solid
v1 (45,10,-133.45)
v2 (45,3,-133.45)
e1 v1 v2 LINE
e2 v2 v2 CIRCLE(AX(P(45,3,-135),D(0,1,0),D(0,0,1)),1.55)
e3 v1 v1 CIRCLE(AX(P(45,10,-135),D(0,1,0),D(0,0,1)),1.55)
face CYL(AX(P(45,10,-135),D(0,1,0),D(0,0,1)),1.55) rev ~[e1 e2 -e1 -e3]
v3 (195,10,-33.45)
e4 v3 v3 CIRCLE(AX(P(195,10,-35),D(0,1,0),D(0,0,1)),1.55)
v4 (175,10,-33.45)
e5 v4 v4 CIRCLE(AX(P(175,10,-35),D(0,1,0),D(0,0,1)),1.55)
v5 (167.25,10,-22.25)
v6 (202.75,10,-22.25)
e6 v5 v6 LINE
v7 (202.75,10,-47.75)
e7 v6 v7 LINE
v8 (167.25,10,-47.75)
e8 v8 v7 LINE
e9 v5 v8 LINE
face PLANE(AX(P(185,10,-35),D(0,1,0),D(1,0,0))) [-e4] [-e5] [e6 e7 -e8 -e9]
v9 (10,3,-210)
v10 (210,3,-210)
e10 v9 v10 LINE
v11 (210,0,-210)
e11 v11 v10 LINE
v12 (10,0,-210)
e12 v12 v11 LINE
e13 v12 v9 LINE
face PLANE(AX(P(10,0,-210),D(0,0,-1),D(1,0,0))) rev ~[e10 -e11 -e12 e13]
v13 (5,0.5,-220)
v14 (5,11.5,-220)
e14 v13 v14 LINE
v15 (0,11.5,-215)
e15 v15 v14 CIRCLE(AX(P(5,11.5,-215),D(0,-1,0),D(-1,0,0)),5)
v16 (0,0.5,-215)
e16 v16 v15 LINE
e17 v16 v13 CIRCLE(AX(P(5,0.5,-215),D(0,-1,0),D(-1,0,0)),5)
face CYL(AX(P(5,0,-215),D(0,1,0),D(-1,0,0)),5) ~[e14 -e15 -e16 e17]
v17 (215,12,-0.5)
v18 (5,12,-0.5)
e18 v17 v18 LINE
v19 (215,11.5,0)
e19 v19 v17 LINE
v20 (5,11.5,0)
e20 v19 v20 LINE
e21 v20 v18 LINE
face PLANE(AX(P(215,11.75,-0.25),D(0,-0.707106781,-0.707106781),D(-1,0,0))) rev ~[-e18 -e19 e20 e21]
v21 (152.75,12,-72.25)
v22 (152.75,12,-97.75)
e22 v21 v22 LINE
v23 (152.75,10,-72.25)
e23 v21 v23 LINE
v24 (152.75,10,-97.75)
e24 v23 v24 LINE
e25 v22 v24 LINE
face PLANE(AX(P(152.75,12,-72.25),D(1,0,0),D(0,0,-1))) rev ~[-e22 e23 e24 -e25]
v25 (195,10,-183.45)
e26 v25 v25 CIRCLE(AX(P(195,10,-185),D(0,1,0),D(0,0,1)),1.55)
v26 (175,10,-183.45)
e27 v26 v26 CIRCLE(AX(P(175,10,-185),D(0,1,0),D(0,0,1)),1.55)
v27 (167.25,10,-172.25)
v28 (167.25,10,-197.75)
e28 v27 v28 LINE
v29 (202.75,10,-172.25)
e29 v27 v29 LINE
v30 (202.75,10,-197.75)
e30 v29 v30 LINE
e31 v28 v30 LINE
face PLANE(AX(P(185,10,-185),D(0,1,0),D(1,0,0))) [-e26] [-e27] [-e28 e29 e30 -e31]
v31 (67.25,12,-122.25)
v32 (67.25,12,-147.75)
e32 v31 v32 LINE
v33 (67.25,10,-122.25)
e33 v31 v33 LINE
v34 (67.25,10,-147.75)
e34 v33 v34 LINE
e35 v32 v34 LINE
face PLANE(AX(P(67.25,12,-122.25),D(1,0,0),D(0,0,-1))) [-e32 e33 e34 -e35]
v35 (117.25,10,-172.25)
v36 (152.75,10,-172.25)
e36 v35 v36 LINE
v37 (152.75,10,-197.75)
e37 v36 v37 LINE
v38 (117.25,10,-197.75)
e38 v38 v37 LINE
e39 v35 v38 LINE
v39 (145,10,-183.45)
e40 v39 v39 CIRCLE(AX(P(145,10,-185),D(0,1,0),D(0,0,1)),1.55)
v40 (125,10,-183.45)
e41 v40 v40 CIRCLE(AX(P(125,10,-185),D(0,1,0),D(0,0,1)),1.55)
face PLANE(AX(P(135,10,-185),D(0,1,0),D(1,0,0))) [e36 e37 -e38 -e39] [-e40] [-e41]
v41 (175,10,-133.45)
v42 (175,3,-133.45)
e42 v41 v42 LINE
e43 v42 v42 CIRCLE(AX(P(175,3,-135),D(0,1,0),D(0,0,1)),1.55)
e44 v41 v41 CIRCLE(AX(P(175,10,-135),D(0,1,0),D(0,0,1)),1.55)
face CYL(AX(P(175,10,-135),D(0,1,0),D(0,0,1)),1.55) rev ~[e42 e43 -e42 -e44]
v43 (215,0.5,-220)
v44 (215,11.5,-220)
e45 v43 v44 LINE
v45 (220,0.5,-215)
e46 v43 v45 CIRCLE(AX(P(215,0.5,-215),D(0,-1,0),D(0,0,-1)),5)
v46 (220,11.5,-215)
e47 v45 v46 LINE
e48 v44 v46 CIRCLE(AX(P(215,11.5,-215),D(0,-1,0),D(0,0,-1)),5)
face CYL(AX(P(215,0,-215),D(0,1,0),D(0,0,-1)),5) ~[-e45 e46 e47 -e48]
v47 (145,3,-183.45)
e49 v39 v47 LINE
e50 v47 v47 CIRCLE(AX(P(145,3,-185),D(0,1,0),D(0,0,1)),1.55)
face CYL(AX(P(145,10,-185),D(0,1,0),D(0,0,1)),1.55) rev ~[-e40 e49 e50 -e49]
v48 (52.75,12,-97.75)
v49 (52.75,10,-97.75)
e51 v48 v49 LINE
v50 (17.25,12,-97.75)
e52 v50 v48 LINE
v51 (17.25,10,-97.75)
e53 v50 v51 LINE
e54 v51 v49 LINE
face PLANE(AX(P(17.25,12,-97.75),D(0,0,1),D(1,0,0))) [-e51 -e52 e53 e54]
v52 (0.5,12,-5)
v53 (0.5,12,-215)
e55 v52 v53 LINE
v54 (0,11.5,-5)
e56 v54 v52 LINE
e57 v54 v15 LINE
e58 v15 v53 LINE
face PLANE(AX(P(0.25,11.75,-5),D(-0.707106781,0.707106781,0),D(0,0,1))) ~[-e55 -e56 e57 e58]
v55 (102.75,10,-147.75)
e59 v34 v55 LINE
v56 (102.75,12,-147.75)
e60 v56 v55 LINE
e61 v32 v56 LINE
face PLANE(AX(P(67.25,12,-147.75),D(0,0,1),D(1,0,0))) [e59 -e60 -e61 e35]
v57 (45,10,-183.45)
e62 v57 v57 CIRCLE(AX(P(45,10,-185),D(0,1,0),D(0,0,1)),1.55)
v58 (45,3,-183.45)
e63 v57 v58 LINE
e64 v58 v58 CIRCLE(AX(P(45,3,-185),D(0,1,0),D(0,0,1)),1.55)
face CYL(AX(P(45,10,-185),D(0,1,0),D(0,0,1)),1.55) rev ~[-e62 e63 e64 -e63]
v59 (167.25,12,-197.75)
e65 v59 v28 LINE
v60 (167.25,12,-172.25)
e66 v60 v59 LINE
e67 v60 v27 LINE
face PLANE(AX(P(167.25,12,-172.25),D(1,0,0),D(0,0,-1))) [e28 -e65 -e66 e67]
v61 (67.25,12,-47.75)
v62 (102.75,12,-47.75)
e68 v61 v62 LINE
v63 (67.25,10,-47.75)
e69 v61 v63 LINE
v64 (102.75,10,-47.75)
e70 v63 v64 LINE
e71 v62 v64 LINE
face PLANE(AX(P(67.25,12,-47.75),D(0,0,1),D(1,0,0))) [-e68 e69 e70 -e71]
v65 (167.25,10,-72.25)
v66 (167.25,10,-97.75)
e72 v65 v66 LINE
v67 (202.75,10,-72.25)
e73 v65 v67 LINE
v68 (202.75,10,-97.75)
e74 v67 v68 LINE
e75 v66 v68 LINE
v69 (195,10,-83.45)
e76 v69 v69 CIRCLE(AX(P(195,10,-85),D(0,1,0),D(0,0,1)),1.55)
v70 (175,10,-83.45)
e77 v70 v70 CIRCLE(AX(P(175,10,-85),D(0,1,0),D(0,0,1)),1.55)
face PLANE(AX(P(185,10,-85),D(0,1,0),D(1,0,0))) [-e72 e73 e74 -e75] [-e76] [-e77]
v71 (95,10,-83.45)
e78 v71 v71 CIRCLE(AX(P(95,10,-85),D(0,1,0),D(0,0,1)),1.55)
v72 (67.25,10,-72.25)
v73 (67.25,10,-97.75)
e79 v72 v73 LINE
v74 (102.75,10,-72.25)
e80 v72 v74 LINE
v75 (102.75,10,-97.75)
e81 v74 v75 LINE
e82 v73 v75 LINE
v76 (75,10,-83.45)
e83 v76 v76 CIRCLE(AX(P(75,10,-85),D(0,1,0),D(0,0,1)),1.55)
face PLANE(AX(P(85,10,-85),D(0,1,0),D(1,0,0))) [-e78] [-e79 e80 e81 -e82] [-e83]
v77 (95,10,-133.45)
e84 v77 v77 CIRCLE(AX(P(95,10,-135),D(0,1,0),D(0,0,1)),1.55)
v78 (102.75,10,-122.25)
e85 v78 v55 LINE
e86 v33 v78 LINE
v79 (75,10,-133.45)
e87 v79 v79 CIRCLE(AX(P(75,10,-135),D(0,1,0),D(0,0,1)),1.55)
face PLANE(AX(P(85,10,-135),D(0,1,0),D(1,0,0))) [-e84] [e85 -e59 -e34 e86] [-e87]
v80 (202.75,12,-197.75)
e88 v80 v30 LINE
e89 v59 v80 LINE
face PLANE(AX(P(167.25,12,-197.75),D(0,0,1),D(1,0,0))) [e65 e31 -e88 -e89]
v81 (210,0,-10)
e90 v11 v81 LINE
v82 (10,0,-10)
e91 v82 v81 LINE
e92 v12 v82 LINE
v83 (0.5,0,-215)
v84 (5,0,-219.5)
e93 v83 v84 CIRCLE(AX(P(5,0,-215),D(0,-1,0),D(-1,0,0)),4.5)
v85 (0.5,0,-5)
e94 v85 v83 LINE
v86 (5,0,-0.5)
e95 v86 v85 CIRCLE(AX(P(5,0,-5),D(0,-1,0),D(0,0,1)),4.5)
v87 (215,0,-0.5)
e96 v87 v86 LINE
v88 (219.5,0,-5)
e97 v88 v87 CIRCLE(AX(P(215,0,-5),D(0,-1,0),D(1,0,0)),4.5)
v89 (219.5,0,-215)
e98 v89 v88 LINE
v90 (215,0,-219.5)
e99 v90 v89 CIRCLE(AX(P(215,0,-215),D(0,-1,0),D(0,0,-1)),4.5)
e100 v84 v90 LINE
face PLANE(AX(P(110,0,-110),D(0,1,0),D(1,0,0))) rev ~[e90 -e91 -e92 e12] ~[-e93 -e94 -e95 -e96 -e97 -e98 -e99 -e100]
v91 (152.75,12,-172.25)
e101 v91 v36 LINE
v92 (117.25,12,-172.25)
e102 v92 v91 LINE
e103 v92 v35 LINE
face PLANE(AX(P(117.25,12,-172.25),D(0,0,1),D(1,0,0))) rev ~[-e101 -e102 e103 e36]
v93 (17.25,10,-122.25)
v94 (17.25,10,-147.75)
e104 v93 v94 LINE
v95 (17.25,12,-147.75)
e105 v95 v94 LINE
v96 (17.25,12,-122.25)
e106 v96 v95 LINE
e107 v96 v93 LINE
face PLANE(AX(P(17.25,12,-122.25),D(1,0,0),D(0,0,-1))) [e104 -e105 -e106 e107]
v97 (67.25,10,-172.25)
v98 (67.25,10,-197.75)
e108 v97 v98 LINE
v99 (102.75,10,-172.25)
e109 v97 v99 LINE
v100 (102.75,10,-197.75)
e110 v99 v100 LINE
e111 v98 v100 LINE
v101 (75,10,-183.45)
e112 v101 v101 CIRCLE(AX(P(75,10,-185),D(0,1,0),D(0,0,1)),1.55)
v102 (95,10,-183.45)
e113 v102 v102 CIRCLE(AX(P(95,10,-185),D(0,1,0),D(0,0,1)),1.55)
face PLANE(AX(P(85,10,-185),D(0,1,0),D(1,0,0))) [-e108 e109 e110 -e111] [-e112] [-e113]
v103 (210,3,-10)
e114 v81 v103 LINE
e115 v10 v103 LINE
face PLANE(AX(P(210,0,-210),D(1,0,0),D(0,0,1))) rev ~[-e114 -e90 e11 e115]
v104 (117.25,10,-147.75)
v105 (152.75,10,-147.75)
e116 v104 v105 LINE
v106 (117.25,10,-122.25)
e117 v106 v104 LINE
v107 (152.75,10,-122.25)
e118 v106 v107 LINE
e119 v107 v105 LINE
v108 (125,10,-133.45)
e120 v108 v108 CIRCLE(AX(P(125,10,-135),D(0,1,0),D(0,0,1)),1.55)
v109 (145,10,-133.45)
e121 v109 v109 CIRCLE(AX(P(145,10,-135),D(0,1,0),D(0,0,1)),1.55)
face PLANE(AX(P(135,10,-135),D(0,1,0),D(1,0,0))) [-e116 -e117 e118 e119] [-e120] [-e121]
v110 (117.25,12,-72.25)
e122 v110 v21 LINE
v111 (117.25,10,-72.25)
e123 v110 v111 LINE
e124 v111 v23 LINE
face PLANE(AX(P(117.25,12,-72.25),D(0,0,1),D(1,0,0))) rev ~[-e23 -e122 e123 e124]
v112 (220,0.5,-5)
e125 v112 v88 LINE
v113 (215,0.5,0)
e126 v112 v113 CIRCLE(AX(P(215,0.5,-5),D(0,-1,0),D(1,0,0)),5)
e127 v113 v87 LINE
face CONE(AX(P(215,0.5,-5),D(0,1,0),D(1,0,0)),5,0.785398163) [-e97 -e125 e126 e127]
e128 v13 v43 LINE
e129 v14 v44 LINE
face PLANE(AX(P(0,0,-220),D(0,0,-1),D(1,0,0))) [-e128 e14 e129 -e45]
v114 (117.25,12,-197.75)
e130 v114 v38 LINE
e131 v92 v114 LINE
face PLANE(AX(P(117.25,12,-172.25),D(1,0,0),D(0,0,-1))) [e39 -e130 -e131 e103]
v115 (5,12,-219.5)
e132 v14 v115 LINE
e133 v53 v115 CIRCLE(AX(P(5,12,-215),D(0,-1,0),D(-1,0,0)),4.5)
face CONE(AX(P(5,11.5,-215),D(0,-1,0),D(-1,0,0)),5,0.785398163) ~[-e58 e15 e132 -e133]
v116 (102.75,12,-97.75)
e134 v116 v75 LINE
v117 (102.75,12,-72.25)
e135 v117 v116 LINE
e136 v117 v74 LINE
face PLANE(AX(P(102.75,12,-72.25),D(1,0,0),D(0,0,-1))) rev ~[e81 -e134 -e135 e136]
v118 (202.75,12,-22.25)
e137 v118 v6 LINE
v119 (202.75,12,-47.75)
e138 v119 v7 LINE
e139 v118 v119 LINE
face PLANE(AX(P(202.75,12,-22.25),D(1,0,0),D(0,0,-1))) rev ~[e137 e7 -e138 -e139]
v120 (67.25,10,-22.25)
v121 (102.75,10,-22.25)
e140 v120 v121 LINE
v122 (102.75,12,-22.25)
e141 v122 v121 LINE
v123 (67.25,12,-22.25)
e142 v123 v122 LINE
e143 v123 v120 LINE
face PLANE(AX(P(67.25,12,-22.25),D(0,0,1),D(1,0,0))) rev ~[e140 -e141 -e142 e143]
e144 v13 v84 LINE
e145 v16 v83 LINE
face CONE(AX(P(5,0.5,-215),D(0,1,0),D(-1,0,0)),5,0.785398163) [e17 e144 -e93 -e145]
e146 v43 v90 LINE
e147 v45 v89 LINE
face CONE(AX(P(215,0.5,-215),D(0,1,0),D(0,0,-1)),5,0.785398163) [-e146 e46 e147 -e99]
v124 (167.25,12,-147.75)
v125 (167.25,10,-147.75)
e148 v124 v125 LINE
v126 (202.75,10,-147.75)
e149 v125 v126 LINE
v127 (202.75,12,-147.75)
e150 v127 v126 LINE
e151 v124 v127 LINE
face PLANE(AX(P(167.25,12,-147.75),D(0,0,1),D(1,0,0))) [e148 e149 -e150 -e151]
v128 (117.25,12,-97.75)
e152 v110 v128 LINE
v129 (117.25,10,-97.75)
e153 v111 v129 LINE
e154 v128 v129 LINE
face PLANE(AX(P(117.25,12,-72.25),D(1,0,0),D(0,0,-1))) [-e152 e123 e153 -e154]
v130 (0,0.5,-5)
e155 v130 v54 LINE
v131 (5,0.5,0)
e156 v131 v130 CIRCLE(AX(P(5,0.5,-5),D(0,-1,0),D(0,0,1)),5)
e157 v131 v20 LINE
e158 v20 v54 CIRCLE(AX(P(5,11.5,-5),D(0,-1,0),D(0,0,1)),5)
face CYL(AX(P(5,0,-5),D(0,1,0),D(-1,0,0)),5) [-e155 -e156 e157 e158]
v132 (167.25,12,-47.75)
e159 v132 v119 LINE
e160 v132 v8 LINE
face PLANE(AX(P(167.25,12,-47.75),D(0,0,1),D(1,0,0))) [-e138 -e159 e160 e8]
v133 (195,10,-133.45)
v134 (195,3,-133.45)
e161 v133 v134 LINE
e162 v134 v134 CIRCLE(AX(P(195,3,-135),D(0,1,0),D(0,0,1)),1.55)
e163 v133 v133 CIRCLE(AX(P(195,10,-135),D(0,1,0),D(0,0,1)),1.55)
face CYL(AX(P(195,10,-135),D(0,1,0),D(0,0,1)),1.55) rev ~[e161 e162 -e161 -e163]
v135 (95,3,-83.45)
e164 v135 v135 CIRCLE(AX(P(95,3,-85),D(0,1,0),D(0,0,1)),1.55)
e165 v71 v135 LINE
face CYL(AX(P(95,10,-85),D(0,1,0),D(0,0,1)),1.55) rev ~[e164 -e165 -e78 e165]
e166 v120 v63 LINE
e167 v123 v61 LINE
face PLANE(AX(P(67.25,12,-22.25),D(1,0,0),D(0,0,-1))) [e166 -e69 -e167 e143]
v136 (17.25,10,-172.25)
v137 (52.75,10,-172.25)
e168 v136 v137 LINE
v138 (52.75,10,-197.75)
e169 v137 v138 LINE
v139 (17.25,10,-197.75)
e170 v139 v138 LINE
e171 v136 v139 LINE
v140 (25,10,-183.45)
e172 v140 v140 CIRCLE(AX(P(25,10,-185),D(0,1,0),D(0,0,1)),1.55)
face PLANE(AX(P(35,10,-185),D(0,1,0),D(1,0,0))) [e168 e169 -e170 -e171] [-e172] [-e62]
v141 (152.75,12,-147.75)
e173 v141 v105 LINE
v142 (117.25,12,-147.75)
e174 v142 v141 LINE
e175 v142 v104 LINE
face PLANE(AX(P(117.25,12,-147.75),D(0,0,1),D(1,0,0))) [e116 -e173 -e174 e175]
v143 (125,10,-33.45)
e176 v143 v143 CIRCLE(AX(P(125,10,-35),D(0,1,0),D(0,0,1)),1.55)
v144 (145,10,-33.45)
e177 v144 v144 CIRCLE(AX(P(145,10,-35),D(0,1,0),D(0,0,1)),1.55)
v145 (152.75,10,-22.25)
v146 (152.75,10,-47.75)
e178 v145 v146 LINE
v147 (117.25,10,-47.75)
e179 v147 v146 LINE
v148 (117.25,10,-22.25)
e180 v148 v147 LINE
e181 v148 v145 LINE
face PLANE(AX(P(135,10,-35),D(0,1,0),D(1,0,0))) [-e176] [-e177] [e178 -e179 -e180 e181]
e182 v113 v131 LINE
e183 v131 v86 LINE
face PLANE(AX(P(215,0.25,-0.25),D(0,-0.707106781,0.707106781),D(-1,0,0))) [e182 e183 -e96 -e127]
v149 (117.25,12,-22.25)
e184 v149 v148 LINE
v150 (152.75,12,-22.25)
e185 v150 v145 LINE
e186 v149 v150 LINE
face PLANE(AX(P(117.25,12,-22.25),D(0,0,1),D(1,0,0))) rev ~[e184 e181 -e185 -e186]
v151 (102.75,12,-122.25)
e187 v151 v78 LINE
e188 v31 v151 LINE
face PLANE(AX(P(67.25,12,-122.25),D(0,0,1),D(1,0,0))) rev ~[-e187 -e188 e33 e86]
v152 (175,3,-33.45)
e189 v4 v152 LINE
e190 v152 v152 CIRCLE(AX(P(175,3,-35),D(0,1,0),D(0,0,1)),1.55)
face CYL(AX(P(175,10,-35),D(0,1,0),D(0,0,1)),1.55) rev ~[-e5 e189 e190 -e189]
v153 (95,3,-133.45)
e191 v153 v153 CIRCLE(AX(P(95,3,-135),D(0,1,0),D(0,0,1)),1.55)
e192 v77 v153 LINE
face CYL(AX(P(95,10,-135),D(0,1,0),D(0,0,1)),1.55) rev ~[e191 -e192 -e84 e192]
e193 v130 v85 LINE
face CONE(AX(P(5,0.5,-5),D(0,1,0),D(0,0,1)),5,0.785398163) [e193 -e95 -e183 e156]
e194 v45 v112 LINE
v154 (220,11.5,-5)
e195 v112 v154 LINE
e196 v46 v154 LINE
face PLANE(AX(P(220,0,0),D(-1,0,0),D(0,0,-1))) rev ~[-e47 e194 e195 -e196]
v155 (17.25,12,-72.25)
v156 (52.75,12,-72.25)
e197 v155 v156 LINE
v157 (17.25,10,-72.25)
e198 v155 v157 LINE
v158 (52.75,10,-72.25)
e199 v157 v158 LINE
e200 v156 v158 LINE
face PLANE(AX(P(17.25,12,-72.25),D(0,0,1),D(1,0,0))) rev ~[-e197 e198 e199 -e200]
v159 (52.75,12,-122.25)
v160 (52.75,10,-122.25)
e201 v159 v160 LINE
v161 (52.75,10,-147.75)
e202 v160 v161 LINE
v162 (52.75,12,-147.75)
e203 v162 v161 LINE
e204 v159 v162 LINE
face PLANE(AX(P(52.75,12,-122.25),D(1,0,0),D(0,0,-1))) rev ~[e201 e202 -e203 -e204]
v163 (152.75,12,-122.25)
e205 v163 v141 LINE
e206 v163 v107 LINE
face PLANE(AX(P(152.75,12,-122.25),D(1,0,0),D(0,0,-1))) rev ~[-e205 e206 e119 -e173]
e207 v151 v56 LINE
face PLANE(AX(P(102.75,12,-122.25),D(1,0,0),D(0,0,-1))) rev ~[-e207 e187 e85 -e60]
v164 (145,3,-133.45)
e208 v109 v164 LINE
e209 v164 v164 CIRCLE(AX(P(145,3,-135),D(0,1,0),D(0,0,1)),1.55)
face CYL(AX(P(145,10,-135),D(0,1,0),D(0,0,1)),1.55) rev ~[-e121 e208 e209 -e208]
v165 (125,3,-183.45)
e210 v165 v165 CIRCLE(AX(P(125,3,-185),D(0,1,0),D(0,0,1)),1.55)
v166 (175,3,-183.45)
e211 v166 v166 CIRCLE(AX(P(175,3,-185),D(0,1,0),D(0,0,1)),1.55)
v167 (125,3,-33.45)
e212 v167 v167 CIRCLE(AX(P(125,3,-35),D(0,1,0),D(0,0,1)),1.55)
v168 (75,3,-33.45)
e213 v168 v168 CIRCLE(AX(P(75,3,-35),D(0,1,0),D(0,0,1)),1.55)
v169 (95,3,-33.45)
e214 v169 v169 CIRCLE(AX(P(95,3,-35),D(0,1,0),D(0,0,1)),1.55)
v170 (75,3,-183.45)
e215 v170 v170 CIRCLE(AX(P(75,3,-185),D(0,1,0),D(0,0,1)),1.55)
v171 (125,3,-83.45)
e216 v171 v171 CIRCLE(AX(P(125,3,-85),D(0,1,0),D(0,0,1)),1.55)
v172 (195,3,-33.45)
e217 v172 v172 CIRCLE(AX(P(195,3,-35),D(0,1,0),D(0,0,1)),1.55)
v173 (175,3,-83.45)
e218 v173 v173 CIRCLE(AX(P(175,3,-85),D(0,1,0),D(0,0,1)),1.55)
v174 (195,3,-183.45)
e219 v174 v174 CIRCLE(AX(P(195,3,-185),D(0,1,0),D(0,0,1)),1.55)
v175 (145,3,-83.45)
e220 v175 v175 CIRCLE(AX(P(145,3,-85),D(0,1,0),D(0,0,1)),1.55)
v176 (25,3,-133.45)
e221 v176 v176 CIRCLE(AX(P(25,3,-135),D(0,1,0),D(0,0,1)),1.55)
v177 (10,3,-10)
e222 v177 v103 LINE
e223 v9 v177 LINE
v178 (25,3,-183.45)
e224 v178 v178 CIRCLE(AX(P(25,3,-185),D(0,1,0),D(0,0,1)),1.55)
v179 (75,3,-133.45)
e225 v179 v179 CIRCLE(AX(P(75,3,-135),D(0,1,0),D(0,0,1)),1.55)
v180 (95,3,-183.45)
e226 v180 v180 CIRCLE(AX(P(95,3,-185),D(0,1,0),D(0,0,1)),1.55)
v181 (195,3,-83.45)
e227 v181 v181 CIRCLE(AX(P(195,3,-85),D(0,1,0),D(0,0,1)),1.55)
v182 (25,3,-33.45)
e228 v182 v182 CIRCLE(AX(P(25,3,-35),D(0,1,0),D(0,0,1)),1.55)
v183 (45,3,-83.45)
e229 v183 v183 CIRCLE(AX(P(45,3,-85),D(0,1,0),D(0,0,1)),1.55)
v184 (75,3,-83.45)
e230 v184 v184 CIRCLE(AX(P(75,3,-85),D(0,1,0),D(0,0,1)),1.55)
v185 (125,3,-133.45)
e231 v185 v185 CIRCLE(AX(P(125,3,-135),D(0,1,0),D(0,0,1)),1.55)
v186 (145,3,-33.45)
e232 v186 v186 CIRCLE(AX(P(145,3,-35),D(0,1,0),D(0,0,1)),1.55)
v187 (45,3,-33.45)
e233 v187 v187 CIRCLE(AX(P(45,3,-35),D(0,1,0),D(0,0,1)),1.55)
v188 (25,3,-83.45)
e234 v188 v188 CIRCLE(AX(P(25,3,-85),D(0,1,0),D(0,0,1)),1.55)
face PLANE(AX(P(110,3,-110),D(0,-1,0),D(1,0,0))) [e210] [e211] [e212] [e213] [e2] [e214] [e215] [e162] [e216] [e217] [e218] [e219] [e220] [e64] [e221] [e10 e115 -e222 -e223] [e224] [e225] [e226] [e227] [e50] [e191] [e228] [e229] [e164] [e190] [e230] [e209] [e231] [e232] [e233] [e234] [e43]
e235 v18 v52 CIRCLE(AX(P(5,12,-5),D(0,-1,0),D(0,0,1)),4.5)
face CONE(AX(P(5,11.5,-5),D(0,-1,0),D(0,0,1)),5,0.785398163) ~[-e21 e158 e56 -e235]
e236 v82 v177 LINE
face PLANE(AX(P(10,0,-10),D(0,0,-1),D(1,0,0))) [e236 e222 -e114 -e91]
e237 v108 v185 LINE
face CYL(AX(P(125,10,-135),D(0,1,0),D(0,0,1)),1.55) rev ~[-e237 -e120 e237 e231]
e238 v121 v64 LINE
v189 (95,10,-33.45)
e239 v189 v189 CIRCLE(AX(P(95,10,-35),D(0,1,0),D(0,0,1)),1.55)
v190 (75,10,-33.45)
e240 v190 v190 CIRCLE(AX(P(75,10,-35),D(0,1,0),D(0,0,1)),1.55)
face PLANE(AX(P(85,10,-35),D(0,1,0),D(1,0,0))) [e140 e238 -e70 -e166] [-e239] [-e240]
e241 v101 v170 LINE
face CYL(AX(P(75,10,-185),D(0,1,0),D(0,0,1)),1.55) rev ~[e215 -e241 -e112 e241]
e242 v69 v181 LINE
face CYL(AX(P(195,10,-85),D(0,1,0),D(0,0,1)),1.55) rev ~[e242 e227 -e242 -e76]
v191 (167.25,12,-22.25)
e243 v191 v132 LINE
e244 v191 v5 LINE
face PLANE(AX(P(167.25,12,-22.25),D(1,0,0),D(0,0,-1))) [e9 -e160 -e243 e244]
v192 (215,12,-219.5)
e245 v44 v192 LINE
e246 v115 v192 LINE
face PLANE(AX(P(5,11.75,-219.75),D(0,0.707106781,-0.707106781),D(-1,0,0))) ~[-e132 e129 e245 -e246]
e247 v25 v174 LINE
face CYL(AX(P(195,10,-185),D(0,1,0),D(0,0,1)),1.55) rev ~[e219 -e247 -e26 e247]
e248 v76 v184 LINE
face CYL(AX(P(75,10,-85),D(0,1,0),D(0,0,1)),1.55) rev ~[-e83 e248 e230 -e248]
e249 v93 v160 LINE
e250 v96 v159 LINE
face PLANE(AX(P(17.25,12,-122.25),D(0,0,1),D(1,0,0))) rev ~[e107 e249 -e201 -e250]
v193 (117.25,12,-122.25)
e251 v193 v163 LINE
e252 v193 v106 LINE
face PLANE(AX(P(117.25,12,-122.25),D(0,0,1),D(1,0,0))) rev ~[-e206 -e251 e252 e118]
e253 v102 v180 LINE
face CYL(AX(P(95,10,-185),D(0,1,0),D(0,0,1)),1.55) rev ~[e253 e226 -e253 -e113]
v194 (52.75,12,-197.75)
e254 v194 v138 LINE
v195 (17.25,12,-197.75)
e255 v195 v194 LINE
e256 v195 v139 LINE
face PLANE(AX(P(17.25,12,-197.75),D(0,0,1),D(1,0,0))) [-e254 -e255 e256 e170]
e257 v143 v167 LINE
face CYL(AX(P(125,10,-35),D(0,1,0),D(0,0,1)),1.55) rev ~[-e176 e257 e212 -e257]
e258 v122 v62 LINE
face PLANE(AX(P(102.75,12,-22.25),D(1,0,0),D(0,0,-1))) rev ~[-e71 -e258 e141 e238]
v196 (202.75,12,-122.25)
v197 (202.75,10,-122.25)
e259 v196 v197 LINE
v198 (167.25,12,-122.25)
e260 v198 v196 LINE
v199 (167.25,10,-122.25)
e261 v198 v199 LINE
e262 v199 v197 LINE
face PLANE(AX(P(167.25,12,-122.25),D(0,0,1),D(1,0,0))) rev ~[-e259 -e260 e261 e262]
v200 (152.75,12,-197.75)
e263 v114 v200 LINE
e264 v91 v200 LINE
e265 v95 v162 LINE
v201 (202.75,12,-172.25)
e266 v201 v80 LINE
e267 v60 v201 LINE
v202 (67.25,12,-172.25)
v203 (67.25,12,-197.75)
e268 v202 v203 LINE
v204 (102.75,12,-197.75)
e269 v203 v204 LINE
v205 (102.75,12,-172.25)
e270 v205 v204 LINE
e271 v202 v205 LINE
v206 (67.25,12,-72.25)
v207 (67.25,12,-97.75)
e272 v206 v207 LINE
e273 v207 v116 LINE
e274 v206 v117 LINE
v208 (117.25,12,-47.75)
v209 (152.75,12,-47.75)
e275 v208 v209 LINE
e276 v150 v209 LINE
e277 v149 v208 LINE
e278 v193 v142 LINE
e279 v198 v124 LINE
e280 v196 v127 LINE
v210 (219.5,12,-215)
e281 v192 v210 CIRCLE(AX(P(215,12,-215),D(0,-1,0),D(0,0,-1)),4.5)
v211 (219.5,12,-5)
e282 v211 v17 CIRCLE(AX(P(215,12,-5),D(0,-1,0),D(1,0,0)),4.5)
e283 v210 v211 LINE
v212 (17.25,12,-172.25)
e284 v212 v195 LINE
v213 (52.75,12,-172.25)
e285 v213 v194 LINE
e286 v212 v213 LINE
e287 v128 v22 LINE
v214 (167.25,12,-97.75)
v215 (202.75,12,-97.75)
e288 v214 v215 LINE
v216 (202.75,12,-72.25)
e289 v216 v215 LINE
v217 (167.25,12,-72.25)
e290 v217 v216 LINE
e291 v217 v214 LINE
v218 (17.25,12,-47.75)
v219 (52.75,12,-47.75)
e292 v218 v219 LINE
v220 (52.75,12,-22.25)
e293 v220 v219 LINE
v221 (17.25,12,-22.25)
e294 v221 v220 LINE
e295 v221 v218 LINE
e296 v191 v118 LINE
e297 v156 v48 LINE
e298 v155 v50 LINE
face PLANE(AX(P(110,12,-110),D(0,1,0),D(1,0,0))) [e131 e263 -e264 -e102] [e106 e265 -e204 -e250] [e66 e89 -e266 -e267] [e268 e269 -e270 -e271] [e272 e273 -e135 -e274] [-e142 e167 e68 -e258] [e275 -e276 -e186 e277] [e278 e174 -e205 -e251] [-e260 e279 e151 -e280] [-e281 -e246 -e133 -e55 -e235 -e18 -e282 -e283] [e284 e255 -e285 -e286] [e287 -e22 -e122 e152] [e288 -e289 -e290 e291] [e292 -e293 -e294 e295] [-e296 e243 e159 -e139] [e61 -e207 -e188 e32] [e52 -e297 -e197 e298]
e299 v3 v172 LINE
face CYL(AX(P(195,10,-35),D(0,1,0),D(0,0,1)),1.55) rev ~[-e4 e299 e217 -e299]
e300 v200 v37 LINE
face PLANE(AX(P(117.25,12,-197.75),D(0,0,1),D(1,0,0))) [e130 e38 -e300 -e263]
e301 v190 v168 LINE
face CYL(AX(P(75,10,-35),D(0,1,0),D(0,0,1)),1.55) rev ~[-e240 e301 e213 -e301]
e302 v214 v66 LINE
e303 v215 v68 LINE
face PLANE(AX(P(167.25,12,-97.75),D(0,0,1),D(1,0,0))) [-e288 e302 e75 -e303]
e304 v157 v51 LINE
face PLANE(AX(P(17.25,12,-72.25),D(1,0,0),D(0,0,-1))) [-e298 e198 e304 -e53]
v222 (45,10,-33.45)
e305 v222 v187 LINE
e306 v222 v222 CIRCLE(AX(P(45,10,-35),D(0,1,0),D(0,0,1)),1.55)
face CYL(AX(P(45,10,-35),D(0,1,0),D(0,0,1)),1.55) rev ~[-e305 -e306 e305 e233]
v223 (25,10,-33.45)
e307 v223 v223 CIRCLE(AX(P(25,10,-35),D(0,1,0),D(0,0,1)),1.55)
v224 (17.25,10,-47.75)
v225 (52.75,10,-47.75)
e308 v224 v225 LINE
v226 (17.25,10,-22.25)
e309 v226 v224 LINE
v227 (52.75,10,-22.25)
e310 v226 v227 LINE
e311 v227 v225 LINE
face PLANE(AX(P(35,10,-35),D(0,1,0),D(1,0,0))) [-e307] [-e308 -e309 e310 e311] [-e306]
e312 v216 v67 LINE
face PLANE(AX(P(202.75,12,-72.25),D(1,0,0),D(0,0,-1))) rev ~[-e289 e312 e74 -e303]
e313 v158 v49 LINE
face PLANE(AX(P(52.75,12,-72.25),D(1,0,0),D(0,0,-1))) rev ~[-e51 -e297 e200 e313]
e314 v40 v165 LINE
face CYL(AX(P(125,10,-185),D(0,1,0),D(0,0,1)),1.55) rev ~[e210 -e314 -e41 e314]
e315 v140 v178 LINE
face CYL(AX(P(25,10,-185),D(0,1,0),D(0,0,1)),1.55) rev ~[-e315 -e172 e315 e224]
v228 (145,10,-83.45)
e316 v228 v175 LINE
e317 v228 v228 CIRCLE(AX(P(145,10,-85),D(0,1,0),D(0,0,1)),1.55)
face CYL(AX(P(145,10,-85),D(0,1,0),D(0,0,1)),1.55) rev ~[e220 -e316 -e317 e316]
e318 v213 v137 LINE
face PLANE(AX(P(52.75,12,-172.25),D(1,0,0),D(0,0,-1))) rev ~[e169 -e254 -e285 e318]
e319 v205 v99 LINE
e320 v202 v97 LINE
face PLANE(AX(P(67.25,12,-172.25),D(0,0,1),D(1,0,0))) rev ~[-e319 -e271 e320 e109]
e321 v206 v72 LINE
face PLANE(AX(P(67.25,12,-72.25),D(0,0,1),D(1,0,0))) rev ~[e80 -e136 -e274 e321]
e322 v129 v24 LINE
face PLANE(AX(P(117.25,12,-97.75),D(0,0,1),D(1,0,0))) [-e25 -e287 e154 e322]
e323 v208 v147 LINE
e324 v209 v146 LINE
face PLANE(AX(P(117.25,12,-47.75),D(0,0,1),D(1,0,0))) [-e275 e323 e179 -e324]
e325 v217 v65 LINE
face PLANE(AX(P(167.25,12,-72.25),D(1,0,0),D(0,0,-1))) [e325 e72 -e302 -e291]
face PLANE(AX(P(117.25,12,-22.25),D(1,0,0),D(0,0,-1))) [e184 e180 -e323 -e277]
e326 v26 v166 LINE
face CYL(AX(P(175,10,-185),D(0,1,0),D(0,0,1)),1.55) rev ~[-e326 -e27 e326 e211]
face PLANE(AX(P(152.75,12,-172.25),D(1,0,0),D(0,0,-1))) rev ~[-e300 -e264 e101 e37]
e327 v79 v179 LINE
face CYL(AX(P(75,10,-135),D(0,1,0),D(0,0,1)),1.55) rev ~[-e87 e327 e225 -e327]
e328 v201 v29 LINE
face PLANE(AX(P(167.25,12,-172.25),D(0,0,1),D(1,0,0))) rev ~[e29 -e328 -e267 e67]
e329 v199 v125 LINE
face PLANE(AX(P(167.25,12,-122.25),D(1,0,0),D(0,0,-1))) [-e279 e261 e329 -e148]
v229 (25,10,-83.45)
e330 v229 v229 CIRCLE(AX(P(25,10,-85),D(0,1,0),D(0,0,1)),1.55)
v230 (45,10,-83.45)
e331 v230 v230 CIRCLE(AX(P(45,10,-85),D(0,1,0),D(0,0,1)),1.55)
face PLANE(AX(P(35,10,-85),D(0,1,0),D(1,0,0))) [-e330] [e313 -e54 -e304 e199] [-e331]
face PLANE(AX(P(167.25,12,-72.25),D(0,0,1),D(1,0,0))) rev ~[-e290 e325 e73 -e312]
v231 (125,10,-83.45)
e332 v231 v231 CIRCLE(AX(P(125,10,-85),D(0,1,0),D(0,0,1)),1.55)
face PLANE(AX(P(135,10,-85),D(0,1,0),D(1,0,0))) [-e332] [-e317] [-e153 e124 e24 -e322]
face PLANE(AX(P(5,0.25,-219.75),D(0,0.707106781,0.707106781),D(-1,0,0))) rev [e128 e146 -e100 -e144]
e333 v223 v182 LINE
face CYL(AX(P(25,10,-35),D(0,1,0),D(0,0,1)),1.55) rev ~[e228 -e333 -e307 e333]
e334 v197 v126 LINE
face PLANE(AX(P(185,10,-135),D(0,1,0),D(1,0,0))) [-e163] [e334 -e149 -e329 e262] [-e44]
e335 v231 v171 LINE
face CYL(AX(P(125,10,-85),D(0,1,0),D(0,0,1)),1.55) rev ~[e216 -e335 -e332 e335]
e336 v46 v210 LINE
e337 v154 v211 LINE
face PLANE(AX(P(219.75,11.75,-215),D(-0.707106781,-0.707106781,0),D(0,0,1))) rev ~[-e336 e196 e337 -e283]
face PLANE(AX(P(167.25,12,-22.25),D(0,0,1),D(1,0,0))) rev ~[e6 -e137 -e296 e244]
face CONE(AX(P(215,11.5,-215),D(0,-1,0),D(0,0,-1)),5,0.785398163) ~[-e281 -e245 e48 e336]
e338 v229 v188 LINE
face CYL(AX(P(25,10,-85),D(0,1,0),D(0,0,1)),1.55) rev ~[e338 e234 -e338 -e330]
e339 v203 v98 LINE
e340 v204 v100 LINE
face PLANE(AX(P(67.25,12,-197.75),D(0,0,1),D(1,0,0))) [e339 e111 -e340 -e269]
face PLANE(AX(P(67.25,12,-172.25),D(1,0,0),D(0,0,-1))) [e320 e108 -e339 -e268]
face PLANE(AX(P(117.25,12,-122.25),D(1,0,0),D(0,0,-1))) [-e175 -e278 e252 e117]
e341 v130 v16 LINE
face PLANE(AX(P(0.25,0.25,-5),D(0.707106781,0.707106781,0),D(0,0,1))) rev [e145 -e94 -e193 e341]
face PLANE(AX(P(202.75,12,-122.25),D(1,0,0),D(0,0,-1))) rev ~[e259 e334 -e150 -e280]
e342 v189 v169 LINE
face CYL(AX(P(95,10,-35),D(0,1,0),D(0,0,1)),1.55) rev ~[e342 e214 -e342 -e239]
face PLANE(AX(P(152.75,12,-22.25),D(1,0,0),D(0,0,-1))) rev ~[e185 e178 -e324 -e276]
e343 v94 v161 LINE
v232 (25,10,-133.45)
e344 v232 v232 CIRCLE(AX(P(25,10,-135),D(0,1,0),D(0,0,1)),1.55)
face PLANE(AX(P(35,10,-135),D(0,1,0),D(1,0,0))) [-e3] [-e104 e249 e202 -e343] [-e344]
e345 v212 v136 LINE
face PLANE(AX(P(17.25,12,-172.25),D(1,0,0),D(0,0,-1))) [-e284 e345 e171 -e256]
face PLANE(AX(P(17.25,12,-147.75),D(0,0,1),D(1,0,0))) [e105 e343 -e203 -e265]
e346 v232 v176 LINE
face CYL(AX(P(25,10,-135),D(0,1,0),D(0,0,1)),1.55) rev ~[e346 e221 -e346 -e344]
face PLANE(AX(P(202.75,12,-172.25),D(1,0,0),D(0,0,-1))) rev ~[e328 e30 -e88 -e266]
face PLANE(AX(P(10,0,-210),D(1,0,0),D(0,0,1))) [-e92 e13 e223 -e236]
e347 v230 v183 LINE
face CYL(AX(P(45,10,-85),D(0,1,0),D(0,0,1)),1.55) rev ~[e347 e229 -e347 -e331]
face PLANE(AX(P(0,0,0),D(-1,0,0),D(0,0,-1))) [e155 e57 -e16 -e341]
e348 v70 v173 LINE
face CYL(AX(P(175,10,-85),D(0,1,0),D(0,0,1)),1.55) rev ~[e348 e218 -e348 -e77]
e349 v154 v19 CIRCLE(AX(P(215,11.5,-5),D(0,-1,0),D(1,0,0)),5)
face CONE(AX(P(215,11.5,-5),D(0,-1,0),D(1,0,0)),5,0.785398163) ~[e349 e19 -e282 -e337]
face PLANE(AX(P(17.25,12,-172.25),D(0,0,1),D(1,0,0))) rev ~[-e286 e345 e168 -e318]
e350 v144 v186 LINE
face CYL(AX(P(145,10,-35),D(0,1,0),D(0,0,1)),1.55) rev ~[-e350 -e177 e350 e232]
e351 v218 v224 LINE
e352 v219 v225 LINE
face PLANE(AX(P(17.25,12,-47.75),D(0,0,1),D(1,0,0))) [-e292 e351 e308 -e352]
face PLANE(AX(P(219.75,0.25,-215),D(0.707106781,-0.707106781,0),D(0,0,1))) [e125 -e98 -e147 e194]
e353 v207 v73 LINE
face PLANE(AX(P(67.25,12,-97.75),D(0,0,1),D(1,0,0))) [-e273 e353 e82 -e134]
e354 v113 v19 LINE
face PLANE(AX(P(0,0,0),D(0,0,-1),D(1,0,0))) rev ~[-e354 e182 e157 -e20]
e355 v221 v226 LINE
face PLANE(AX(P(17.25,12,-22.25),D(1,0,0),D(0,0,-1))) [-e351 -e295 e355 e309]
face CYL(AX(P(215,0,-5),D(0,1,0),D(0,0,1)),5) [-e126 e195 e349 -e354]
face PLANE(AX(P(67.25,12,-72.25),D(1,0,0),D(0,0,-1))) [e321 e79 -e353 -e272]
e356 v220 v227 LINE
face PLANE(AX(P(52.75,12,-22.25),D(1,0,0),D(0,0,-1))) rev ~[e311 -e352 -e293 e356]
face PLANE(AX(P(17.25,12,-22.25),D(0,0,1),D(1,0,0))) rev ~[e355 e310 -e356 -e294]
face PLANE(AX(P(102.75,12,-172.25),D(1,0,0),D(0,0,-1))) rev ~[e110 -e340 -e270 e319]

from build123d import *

# Parameters (mm, degrees)
SKETCH1_W            = 220
SKETCH1_H            = 220
BOSS_EXTRUDE1_DEPTH  = 12
SKETCH2_W            = 35.5
SKETCH2_H            = 25.5
CUT_EXTRUDE1_DEPTH   = 2
LPATTERN1_COUNT      = 4
LPATTERN1_PITCH      = 50
LPATTERN1_COUNT_DIR2 = 4
LPATTERN1_PITCH_DIR2 = 50
SKETCH3_R            = 1.55
CUT_EXTRUDE2_DEPTH   = 312.287648325
LPATTERN2_COUNT      = 4
LPATTERN2_PITCH      = 50
LPATTERN2_COUNT_DIR2 = 4
LPATTERN2_PITCH_DIR2 = 50
SKETCH4_W            = 200
SKETCH4_H            = 200
CUT_EXTRUDE3_DEPTH   = 3
FILLET1_R            = 5
CHAMFER1_SIZE        = 0.5


with BuildPart() as part:
    # Sketch1 → Boss-Extrude1 (new body)
    with BuildSketch(Plane(origin=(0, 0, 0), x_dir=(1, 0, 0), z_dir=(0, 1, 0))):
        with Locations((110, 110)):
            Rectangle(SKETCH1_W, SKETCH1_H)
    extrude(amount=BOSS_EXTRUDE1_DEPTH)

    # Sketch2 → Cut-Extrude1 (cut)
    with BuildSketch(Plane(origin=(0, 12, 0), x_dir=(1, 0, 0), z_dir=(0, 1, 0))):
        with Locations((35, 35)):
            Rectangle(SKETCH2_W, SKETCH2_H)
    cut_extrude1 = extrude(amount=-CUT_EXTRUDE1_DEPTH, mode=Mode.SUBTRACT)

    # LPattern1: Cut-Extrude1 4 × 4
    with Locations(*[(j * LPATTERN1_PITCH_DIR2, 0, -i * LPATTERN1_PITCH) for i in range(LPATTERN1_COUNT) for j in range(LPATTERN1_COUNT_DIR2) if (i, j) != (0, 0)]):
        add(cut_extrude1, mode=Mode.SUBTRACT)

    # Sketch3 → Cut-Extrude2 (cut, through all)
    with BuildSketch(Plane(origin=(0, 10, 0), x_dir=(1, 0, 0), z_dir=(0, 1, 0))):
        with Locations(Location((25, 35, 0), (0, 0, 270))):
            Circle(SKETCH3_R)
        with Locations(Location((45, 35, 0), (0, 0, 270))):
            Circle(SKETCH3_R)
    cut_extrude2 = extrude(amount=-CUT_EXTRUDE2_DEPTH, mode=Mode.SUBTRACT)

    # LPattern2: Cut-Extrude2 4 × 4
    with Locations(*[(j * LPATTERN2_PITCH_DIR2, 0, -i * LPATTERN2_PITCH) for i in range(LPATTERN2_COUNT) for j in range(LPATTERN2_COUNT_DIR2) if (i, j) != (0, 0)]):
        add(cut_extrude2, mode=Mode.SUBTRACT)

    # Sketch4 → Cut-Extrude3 (cut)
    with BuildSketch(Plane.XZ):
        with Locations((110, -110)):
            Rectangle(SKETCH4_W, SKETCH4_H)
    extrude(amount=-CUT_EXTRUDE3_DEPTH, mode=Mode.SUBTRACT)

    # Fillet1
    fillet1_edges = [part.edges().sort_by_distance(p)[0] for p in [
        (0, 6, -220),
        (220, 6, -220),
        (220, 6, 0),
        (0, 6, 0),
    ]]
    fillet(fillet1_edges, radius=FILLET1_R)

    # Chamfer1
    chamfer1_edges = [part.edges().sort_by_distance(p)[0] for p in [
        (0, 0, -110),
        (0, 12, -110),
        (110, 0, -220),
        (220, 0, -110),
        (110, 0, 0),
        (218.535533906, 0, -218.535533906),
        (218.535533906, 0, -1.464466094),
        (1.464466094, 0, -1.464466094),
        (1.464466094, 0, -218.535533906),
        (110, 12, -220),
        (110, 12, 0),
        (220, 12, -110),
        (218.535533906, 12, -218.535533906),
        (218.535533906, 12, -1.464466094),
        (1.464466094, 12, -1.464466094),
        (1.464466094, 12, -218.535533906),
    ]]
    chamfer(chamfer1_edges, length=CHAMFER1_SIZE)


solid = part.part
